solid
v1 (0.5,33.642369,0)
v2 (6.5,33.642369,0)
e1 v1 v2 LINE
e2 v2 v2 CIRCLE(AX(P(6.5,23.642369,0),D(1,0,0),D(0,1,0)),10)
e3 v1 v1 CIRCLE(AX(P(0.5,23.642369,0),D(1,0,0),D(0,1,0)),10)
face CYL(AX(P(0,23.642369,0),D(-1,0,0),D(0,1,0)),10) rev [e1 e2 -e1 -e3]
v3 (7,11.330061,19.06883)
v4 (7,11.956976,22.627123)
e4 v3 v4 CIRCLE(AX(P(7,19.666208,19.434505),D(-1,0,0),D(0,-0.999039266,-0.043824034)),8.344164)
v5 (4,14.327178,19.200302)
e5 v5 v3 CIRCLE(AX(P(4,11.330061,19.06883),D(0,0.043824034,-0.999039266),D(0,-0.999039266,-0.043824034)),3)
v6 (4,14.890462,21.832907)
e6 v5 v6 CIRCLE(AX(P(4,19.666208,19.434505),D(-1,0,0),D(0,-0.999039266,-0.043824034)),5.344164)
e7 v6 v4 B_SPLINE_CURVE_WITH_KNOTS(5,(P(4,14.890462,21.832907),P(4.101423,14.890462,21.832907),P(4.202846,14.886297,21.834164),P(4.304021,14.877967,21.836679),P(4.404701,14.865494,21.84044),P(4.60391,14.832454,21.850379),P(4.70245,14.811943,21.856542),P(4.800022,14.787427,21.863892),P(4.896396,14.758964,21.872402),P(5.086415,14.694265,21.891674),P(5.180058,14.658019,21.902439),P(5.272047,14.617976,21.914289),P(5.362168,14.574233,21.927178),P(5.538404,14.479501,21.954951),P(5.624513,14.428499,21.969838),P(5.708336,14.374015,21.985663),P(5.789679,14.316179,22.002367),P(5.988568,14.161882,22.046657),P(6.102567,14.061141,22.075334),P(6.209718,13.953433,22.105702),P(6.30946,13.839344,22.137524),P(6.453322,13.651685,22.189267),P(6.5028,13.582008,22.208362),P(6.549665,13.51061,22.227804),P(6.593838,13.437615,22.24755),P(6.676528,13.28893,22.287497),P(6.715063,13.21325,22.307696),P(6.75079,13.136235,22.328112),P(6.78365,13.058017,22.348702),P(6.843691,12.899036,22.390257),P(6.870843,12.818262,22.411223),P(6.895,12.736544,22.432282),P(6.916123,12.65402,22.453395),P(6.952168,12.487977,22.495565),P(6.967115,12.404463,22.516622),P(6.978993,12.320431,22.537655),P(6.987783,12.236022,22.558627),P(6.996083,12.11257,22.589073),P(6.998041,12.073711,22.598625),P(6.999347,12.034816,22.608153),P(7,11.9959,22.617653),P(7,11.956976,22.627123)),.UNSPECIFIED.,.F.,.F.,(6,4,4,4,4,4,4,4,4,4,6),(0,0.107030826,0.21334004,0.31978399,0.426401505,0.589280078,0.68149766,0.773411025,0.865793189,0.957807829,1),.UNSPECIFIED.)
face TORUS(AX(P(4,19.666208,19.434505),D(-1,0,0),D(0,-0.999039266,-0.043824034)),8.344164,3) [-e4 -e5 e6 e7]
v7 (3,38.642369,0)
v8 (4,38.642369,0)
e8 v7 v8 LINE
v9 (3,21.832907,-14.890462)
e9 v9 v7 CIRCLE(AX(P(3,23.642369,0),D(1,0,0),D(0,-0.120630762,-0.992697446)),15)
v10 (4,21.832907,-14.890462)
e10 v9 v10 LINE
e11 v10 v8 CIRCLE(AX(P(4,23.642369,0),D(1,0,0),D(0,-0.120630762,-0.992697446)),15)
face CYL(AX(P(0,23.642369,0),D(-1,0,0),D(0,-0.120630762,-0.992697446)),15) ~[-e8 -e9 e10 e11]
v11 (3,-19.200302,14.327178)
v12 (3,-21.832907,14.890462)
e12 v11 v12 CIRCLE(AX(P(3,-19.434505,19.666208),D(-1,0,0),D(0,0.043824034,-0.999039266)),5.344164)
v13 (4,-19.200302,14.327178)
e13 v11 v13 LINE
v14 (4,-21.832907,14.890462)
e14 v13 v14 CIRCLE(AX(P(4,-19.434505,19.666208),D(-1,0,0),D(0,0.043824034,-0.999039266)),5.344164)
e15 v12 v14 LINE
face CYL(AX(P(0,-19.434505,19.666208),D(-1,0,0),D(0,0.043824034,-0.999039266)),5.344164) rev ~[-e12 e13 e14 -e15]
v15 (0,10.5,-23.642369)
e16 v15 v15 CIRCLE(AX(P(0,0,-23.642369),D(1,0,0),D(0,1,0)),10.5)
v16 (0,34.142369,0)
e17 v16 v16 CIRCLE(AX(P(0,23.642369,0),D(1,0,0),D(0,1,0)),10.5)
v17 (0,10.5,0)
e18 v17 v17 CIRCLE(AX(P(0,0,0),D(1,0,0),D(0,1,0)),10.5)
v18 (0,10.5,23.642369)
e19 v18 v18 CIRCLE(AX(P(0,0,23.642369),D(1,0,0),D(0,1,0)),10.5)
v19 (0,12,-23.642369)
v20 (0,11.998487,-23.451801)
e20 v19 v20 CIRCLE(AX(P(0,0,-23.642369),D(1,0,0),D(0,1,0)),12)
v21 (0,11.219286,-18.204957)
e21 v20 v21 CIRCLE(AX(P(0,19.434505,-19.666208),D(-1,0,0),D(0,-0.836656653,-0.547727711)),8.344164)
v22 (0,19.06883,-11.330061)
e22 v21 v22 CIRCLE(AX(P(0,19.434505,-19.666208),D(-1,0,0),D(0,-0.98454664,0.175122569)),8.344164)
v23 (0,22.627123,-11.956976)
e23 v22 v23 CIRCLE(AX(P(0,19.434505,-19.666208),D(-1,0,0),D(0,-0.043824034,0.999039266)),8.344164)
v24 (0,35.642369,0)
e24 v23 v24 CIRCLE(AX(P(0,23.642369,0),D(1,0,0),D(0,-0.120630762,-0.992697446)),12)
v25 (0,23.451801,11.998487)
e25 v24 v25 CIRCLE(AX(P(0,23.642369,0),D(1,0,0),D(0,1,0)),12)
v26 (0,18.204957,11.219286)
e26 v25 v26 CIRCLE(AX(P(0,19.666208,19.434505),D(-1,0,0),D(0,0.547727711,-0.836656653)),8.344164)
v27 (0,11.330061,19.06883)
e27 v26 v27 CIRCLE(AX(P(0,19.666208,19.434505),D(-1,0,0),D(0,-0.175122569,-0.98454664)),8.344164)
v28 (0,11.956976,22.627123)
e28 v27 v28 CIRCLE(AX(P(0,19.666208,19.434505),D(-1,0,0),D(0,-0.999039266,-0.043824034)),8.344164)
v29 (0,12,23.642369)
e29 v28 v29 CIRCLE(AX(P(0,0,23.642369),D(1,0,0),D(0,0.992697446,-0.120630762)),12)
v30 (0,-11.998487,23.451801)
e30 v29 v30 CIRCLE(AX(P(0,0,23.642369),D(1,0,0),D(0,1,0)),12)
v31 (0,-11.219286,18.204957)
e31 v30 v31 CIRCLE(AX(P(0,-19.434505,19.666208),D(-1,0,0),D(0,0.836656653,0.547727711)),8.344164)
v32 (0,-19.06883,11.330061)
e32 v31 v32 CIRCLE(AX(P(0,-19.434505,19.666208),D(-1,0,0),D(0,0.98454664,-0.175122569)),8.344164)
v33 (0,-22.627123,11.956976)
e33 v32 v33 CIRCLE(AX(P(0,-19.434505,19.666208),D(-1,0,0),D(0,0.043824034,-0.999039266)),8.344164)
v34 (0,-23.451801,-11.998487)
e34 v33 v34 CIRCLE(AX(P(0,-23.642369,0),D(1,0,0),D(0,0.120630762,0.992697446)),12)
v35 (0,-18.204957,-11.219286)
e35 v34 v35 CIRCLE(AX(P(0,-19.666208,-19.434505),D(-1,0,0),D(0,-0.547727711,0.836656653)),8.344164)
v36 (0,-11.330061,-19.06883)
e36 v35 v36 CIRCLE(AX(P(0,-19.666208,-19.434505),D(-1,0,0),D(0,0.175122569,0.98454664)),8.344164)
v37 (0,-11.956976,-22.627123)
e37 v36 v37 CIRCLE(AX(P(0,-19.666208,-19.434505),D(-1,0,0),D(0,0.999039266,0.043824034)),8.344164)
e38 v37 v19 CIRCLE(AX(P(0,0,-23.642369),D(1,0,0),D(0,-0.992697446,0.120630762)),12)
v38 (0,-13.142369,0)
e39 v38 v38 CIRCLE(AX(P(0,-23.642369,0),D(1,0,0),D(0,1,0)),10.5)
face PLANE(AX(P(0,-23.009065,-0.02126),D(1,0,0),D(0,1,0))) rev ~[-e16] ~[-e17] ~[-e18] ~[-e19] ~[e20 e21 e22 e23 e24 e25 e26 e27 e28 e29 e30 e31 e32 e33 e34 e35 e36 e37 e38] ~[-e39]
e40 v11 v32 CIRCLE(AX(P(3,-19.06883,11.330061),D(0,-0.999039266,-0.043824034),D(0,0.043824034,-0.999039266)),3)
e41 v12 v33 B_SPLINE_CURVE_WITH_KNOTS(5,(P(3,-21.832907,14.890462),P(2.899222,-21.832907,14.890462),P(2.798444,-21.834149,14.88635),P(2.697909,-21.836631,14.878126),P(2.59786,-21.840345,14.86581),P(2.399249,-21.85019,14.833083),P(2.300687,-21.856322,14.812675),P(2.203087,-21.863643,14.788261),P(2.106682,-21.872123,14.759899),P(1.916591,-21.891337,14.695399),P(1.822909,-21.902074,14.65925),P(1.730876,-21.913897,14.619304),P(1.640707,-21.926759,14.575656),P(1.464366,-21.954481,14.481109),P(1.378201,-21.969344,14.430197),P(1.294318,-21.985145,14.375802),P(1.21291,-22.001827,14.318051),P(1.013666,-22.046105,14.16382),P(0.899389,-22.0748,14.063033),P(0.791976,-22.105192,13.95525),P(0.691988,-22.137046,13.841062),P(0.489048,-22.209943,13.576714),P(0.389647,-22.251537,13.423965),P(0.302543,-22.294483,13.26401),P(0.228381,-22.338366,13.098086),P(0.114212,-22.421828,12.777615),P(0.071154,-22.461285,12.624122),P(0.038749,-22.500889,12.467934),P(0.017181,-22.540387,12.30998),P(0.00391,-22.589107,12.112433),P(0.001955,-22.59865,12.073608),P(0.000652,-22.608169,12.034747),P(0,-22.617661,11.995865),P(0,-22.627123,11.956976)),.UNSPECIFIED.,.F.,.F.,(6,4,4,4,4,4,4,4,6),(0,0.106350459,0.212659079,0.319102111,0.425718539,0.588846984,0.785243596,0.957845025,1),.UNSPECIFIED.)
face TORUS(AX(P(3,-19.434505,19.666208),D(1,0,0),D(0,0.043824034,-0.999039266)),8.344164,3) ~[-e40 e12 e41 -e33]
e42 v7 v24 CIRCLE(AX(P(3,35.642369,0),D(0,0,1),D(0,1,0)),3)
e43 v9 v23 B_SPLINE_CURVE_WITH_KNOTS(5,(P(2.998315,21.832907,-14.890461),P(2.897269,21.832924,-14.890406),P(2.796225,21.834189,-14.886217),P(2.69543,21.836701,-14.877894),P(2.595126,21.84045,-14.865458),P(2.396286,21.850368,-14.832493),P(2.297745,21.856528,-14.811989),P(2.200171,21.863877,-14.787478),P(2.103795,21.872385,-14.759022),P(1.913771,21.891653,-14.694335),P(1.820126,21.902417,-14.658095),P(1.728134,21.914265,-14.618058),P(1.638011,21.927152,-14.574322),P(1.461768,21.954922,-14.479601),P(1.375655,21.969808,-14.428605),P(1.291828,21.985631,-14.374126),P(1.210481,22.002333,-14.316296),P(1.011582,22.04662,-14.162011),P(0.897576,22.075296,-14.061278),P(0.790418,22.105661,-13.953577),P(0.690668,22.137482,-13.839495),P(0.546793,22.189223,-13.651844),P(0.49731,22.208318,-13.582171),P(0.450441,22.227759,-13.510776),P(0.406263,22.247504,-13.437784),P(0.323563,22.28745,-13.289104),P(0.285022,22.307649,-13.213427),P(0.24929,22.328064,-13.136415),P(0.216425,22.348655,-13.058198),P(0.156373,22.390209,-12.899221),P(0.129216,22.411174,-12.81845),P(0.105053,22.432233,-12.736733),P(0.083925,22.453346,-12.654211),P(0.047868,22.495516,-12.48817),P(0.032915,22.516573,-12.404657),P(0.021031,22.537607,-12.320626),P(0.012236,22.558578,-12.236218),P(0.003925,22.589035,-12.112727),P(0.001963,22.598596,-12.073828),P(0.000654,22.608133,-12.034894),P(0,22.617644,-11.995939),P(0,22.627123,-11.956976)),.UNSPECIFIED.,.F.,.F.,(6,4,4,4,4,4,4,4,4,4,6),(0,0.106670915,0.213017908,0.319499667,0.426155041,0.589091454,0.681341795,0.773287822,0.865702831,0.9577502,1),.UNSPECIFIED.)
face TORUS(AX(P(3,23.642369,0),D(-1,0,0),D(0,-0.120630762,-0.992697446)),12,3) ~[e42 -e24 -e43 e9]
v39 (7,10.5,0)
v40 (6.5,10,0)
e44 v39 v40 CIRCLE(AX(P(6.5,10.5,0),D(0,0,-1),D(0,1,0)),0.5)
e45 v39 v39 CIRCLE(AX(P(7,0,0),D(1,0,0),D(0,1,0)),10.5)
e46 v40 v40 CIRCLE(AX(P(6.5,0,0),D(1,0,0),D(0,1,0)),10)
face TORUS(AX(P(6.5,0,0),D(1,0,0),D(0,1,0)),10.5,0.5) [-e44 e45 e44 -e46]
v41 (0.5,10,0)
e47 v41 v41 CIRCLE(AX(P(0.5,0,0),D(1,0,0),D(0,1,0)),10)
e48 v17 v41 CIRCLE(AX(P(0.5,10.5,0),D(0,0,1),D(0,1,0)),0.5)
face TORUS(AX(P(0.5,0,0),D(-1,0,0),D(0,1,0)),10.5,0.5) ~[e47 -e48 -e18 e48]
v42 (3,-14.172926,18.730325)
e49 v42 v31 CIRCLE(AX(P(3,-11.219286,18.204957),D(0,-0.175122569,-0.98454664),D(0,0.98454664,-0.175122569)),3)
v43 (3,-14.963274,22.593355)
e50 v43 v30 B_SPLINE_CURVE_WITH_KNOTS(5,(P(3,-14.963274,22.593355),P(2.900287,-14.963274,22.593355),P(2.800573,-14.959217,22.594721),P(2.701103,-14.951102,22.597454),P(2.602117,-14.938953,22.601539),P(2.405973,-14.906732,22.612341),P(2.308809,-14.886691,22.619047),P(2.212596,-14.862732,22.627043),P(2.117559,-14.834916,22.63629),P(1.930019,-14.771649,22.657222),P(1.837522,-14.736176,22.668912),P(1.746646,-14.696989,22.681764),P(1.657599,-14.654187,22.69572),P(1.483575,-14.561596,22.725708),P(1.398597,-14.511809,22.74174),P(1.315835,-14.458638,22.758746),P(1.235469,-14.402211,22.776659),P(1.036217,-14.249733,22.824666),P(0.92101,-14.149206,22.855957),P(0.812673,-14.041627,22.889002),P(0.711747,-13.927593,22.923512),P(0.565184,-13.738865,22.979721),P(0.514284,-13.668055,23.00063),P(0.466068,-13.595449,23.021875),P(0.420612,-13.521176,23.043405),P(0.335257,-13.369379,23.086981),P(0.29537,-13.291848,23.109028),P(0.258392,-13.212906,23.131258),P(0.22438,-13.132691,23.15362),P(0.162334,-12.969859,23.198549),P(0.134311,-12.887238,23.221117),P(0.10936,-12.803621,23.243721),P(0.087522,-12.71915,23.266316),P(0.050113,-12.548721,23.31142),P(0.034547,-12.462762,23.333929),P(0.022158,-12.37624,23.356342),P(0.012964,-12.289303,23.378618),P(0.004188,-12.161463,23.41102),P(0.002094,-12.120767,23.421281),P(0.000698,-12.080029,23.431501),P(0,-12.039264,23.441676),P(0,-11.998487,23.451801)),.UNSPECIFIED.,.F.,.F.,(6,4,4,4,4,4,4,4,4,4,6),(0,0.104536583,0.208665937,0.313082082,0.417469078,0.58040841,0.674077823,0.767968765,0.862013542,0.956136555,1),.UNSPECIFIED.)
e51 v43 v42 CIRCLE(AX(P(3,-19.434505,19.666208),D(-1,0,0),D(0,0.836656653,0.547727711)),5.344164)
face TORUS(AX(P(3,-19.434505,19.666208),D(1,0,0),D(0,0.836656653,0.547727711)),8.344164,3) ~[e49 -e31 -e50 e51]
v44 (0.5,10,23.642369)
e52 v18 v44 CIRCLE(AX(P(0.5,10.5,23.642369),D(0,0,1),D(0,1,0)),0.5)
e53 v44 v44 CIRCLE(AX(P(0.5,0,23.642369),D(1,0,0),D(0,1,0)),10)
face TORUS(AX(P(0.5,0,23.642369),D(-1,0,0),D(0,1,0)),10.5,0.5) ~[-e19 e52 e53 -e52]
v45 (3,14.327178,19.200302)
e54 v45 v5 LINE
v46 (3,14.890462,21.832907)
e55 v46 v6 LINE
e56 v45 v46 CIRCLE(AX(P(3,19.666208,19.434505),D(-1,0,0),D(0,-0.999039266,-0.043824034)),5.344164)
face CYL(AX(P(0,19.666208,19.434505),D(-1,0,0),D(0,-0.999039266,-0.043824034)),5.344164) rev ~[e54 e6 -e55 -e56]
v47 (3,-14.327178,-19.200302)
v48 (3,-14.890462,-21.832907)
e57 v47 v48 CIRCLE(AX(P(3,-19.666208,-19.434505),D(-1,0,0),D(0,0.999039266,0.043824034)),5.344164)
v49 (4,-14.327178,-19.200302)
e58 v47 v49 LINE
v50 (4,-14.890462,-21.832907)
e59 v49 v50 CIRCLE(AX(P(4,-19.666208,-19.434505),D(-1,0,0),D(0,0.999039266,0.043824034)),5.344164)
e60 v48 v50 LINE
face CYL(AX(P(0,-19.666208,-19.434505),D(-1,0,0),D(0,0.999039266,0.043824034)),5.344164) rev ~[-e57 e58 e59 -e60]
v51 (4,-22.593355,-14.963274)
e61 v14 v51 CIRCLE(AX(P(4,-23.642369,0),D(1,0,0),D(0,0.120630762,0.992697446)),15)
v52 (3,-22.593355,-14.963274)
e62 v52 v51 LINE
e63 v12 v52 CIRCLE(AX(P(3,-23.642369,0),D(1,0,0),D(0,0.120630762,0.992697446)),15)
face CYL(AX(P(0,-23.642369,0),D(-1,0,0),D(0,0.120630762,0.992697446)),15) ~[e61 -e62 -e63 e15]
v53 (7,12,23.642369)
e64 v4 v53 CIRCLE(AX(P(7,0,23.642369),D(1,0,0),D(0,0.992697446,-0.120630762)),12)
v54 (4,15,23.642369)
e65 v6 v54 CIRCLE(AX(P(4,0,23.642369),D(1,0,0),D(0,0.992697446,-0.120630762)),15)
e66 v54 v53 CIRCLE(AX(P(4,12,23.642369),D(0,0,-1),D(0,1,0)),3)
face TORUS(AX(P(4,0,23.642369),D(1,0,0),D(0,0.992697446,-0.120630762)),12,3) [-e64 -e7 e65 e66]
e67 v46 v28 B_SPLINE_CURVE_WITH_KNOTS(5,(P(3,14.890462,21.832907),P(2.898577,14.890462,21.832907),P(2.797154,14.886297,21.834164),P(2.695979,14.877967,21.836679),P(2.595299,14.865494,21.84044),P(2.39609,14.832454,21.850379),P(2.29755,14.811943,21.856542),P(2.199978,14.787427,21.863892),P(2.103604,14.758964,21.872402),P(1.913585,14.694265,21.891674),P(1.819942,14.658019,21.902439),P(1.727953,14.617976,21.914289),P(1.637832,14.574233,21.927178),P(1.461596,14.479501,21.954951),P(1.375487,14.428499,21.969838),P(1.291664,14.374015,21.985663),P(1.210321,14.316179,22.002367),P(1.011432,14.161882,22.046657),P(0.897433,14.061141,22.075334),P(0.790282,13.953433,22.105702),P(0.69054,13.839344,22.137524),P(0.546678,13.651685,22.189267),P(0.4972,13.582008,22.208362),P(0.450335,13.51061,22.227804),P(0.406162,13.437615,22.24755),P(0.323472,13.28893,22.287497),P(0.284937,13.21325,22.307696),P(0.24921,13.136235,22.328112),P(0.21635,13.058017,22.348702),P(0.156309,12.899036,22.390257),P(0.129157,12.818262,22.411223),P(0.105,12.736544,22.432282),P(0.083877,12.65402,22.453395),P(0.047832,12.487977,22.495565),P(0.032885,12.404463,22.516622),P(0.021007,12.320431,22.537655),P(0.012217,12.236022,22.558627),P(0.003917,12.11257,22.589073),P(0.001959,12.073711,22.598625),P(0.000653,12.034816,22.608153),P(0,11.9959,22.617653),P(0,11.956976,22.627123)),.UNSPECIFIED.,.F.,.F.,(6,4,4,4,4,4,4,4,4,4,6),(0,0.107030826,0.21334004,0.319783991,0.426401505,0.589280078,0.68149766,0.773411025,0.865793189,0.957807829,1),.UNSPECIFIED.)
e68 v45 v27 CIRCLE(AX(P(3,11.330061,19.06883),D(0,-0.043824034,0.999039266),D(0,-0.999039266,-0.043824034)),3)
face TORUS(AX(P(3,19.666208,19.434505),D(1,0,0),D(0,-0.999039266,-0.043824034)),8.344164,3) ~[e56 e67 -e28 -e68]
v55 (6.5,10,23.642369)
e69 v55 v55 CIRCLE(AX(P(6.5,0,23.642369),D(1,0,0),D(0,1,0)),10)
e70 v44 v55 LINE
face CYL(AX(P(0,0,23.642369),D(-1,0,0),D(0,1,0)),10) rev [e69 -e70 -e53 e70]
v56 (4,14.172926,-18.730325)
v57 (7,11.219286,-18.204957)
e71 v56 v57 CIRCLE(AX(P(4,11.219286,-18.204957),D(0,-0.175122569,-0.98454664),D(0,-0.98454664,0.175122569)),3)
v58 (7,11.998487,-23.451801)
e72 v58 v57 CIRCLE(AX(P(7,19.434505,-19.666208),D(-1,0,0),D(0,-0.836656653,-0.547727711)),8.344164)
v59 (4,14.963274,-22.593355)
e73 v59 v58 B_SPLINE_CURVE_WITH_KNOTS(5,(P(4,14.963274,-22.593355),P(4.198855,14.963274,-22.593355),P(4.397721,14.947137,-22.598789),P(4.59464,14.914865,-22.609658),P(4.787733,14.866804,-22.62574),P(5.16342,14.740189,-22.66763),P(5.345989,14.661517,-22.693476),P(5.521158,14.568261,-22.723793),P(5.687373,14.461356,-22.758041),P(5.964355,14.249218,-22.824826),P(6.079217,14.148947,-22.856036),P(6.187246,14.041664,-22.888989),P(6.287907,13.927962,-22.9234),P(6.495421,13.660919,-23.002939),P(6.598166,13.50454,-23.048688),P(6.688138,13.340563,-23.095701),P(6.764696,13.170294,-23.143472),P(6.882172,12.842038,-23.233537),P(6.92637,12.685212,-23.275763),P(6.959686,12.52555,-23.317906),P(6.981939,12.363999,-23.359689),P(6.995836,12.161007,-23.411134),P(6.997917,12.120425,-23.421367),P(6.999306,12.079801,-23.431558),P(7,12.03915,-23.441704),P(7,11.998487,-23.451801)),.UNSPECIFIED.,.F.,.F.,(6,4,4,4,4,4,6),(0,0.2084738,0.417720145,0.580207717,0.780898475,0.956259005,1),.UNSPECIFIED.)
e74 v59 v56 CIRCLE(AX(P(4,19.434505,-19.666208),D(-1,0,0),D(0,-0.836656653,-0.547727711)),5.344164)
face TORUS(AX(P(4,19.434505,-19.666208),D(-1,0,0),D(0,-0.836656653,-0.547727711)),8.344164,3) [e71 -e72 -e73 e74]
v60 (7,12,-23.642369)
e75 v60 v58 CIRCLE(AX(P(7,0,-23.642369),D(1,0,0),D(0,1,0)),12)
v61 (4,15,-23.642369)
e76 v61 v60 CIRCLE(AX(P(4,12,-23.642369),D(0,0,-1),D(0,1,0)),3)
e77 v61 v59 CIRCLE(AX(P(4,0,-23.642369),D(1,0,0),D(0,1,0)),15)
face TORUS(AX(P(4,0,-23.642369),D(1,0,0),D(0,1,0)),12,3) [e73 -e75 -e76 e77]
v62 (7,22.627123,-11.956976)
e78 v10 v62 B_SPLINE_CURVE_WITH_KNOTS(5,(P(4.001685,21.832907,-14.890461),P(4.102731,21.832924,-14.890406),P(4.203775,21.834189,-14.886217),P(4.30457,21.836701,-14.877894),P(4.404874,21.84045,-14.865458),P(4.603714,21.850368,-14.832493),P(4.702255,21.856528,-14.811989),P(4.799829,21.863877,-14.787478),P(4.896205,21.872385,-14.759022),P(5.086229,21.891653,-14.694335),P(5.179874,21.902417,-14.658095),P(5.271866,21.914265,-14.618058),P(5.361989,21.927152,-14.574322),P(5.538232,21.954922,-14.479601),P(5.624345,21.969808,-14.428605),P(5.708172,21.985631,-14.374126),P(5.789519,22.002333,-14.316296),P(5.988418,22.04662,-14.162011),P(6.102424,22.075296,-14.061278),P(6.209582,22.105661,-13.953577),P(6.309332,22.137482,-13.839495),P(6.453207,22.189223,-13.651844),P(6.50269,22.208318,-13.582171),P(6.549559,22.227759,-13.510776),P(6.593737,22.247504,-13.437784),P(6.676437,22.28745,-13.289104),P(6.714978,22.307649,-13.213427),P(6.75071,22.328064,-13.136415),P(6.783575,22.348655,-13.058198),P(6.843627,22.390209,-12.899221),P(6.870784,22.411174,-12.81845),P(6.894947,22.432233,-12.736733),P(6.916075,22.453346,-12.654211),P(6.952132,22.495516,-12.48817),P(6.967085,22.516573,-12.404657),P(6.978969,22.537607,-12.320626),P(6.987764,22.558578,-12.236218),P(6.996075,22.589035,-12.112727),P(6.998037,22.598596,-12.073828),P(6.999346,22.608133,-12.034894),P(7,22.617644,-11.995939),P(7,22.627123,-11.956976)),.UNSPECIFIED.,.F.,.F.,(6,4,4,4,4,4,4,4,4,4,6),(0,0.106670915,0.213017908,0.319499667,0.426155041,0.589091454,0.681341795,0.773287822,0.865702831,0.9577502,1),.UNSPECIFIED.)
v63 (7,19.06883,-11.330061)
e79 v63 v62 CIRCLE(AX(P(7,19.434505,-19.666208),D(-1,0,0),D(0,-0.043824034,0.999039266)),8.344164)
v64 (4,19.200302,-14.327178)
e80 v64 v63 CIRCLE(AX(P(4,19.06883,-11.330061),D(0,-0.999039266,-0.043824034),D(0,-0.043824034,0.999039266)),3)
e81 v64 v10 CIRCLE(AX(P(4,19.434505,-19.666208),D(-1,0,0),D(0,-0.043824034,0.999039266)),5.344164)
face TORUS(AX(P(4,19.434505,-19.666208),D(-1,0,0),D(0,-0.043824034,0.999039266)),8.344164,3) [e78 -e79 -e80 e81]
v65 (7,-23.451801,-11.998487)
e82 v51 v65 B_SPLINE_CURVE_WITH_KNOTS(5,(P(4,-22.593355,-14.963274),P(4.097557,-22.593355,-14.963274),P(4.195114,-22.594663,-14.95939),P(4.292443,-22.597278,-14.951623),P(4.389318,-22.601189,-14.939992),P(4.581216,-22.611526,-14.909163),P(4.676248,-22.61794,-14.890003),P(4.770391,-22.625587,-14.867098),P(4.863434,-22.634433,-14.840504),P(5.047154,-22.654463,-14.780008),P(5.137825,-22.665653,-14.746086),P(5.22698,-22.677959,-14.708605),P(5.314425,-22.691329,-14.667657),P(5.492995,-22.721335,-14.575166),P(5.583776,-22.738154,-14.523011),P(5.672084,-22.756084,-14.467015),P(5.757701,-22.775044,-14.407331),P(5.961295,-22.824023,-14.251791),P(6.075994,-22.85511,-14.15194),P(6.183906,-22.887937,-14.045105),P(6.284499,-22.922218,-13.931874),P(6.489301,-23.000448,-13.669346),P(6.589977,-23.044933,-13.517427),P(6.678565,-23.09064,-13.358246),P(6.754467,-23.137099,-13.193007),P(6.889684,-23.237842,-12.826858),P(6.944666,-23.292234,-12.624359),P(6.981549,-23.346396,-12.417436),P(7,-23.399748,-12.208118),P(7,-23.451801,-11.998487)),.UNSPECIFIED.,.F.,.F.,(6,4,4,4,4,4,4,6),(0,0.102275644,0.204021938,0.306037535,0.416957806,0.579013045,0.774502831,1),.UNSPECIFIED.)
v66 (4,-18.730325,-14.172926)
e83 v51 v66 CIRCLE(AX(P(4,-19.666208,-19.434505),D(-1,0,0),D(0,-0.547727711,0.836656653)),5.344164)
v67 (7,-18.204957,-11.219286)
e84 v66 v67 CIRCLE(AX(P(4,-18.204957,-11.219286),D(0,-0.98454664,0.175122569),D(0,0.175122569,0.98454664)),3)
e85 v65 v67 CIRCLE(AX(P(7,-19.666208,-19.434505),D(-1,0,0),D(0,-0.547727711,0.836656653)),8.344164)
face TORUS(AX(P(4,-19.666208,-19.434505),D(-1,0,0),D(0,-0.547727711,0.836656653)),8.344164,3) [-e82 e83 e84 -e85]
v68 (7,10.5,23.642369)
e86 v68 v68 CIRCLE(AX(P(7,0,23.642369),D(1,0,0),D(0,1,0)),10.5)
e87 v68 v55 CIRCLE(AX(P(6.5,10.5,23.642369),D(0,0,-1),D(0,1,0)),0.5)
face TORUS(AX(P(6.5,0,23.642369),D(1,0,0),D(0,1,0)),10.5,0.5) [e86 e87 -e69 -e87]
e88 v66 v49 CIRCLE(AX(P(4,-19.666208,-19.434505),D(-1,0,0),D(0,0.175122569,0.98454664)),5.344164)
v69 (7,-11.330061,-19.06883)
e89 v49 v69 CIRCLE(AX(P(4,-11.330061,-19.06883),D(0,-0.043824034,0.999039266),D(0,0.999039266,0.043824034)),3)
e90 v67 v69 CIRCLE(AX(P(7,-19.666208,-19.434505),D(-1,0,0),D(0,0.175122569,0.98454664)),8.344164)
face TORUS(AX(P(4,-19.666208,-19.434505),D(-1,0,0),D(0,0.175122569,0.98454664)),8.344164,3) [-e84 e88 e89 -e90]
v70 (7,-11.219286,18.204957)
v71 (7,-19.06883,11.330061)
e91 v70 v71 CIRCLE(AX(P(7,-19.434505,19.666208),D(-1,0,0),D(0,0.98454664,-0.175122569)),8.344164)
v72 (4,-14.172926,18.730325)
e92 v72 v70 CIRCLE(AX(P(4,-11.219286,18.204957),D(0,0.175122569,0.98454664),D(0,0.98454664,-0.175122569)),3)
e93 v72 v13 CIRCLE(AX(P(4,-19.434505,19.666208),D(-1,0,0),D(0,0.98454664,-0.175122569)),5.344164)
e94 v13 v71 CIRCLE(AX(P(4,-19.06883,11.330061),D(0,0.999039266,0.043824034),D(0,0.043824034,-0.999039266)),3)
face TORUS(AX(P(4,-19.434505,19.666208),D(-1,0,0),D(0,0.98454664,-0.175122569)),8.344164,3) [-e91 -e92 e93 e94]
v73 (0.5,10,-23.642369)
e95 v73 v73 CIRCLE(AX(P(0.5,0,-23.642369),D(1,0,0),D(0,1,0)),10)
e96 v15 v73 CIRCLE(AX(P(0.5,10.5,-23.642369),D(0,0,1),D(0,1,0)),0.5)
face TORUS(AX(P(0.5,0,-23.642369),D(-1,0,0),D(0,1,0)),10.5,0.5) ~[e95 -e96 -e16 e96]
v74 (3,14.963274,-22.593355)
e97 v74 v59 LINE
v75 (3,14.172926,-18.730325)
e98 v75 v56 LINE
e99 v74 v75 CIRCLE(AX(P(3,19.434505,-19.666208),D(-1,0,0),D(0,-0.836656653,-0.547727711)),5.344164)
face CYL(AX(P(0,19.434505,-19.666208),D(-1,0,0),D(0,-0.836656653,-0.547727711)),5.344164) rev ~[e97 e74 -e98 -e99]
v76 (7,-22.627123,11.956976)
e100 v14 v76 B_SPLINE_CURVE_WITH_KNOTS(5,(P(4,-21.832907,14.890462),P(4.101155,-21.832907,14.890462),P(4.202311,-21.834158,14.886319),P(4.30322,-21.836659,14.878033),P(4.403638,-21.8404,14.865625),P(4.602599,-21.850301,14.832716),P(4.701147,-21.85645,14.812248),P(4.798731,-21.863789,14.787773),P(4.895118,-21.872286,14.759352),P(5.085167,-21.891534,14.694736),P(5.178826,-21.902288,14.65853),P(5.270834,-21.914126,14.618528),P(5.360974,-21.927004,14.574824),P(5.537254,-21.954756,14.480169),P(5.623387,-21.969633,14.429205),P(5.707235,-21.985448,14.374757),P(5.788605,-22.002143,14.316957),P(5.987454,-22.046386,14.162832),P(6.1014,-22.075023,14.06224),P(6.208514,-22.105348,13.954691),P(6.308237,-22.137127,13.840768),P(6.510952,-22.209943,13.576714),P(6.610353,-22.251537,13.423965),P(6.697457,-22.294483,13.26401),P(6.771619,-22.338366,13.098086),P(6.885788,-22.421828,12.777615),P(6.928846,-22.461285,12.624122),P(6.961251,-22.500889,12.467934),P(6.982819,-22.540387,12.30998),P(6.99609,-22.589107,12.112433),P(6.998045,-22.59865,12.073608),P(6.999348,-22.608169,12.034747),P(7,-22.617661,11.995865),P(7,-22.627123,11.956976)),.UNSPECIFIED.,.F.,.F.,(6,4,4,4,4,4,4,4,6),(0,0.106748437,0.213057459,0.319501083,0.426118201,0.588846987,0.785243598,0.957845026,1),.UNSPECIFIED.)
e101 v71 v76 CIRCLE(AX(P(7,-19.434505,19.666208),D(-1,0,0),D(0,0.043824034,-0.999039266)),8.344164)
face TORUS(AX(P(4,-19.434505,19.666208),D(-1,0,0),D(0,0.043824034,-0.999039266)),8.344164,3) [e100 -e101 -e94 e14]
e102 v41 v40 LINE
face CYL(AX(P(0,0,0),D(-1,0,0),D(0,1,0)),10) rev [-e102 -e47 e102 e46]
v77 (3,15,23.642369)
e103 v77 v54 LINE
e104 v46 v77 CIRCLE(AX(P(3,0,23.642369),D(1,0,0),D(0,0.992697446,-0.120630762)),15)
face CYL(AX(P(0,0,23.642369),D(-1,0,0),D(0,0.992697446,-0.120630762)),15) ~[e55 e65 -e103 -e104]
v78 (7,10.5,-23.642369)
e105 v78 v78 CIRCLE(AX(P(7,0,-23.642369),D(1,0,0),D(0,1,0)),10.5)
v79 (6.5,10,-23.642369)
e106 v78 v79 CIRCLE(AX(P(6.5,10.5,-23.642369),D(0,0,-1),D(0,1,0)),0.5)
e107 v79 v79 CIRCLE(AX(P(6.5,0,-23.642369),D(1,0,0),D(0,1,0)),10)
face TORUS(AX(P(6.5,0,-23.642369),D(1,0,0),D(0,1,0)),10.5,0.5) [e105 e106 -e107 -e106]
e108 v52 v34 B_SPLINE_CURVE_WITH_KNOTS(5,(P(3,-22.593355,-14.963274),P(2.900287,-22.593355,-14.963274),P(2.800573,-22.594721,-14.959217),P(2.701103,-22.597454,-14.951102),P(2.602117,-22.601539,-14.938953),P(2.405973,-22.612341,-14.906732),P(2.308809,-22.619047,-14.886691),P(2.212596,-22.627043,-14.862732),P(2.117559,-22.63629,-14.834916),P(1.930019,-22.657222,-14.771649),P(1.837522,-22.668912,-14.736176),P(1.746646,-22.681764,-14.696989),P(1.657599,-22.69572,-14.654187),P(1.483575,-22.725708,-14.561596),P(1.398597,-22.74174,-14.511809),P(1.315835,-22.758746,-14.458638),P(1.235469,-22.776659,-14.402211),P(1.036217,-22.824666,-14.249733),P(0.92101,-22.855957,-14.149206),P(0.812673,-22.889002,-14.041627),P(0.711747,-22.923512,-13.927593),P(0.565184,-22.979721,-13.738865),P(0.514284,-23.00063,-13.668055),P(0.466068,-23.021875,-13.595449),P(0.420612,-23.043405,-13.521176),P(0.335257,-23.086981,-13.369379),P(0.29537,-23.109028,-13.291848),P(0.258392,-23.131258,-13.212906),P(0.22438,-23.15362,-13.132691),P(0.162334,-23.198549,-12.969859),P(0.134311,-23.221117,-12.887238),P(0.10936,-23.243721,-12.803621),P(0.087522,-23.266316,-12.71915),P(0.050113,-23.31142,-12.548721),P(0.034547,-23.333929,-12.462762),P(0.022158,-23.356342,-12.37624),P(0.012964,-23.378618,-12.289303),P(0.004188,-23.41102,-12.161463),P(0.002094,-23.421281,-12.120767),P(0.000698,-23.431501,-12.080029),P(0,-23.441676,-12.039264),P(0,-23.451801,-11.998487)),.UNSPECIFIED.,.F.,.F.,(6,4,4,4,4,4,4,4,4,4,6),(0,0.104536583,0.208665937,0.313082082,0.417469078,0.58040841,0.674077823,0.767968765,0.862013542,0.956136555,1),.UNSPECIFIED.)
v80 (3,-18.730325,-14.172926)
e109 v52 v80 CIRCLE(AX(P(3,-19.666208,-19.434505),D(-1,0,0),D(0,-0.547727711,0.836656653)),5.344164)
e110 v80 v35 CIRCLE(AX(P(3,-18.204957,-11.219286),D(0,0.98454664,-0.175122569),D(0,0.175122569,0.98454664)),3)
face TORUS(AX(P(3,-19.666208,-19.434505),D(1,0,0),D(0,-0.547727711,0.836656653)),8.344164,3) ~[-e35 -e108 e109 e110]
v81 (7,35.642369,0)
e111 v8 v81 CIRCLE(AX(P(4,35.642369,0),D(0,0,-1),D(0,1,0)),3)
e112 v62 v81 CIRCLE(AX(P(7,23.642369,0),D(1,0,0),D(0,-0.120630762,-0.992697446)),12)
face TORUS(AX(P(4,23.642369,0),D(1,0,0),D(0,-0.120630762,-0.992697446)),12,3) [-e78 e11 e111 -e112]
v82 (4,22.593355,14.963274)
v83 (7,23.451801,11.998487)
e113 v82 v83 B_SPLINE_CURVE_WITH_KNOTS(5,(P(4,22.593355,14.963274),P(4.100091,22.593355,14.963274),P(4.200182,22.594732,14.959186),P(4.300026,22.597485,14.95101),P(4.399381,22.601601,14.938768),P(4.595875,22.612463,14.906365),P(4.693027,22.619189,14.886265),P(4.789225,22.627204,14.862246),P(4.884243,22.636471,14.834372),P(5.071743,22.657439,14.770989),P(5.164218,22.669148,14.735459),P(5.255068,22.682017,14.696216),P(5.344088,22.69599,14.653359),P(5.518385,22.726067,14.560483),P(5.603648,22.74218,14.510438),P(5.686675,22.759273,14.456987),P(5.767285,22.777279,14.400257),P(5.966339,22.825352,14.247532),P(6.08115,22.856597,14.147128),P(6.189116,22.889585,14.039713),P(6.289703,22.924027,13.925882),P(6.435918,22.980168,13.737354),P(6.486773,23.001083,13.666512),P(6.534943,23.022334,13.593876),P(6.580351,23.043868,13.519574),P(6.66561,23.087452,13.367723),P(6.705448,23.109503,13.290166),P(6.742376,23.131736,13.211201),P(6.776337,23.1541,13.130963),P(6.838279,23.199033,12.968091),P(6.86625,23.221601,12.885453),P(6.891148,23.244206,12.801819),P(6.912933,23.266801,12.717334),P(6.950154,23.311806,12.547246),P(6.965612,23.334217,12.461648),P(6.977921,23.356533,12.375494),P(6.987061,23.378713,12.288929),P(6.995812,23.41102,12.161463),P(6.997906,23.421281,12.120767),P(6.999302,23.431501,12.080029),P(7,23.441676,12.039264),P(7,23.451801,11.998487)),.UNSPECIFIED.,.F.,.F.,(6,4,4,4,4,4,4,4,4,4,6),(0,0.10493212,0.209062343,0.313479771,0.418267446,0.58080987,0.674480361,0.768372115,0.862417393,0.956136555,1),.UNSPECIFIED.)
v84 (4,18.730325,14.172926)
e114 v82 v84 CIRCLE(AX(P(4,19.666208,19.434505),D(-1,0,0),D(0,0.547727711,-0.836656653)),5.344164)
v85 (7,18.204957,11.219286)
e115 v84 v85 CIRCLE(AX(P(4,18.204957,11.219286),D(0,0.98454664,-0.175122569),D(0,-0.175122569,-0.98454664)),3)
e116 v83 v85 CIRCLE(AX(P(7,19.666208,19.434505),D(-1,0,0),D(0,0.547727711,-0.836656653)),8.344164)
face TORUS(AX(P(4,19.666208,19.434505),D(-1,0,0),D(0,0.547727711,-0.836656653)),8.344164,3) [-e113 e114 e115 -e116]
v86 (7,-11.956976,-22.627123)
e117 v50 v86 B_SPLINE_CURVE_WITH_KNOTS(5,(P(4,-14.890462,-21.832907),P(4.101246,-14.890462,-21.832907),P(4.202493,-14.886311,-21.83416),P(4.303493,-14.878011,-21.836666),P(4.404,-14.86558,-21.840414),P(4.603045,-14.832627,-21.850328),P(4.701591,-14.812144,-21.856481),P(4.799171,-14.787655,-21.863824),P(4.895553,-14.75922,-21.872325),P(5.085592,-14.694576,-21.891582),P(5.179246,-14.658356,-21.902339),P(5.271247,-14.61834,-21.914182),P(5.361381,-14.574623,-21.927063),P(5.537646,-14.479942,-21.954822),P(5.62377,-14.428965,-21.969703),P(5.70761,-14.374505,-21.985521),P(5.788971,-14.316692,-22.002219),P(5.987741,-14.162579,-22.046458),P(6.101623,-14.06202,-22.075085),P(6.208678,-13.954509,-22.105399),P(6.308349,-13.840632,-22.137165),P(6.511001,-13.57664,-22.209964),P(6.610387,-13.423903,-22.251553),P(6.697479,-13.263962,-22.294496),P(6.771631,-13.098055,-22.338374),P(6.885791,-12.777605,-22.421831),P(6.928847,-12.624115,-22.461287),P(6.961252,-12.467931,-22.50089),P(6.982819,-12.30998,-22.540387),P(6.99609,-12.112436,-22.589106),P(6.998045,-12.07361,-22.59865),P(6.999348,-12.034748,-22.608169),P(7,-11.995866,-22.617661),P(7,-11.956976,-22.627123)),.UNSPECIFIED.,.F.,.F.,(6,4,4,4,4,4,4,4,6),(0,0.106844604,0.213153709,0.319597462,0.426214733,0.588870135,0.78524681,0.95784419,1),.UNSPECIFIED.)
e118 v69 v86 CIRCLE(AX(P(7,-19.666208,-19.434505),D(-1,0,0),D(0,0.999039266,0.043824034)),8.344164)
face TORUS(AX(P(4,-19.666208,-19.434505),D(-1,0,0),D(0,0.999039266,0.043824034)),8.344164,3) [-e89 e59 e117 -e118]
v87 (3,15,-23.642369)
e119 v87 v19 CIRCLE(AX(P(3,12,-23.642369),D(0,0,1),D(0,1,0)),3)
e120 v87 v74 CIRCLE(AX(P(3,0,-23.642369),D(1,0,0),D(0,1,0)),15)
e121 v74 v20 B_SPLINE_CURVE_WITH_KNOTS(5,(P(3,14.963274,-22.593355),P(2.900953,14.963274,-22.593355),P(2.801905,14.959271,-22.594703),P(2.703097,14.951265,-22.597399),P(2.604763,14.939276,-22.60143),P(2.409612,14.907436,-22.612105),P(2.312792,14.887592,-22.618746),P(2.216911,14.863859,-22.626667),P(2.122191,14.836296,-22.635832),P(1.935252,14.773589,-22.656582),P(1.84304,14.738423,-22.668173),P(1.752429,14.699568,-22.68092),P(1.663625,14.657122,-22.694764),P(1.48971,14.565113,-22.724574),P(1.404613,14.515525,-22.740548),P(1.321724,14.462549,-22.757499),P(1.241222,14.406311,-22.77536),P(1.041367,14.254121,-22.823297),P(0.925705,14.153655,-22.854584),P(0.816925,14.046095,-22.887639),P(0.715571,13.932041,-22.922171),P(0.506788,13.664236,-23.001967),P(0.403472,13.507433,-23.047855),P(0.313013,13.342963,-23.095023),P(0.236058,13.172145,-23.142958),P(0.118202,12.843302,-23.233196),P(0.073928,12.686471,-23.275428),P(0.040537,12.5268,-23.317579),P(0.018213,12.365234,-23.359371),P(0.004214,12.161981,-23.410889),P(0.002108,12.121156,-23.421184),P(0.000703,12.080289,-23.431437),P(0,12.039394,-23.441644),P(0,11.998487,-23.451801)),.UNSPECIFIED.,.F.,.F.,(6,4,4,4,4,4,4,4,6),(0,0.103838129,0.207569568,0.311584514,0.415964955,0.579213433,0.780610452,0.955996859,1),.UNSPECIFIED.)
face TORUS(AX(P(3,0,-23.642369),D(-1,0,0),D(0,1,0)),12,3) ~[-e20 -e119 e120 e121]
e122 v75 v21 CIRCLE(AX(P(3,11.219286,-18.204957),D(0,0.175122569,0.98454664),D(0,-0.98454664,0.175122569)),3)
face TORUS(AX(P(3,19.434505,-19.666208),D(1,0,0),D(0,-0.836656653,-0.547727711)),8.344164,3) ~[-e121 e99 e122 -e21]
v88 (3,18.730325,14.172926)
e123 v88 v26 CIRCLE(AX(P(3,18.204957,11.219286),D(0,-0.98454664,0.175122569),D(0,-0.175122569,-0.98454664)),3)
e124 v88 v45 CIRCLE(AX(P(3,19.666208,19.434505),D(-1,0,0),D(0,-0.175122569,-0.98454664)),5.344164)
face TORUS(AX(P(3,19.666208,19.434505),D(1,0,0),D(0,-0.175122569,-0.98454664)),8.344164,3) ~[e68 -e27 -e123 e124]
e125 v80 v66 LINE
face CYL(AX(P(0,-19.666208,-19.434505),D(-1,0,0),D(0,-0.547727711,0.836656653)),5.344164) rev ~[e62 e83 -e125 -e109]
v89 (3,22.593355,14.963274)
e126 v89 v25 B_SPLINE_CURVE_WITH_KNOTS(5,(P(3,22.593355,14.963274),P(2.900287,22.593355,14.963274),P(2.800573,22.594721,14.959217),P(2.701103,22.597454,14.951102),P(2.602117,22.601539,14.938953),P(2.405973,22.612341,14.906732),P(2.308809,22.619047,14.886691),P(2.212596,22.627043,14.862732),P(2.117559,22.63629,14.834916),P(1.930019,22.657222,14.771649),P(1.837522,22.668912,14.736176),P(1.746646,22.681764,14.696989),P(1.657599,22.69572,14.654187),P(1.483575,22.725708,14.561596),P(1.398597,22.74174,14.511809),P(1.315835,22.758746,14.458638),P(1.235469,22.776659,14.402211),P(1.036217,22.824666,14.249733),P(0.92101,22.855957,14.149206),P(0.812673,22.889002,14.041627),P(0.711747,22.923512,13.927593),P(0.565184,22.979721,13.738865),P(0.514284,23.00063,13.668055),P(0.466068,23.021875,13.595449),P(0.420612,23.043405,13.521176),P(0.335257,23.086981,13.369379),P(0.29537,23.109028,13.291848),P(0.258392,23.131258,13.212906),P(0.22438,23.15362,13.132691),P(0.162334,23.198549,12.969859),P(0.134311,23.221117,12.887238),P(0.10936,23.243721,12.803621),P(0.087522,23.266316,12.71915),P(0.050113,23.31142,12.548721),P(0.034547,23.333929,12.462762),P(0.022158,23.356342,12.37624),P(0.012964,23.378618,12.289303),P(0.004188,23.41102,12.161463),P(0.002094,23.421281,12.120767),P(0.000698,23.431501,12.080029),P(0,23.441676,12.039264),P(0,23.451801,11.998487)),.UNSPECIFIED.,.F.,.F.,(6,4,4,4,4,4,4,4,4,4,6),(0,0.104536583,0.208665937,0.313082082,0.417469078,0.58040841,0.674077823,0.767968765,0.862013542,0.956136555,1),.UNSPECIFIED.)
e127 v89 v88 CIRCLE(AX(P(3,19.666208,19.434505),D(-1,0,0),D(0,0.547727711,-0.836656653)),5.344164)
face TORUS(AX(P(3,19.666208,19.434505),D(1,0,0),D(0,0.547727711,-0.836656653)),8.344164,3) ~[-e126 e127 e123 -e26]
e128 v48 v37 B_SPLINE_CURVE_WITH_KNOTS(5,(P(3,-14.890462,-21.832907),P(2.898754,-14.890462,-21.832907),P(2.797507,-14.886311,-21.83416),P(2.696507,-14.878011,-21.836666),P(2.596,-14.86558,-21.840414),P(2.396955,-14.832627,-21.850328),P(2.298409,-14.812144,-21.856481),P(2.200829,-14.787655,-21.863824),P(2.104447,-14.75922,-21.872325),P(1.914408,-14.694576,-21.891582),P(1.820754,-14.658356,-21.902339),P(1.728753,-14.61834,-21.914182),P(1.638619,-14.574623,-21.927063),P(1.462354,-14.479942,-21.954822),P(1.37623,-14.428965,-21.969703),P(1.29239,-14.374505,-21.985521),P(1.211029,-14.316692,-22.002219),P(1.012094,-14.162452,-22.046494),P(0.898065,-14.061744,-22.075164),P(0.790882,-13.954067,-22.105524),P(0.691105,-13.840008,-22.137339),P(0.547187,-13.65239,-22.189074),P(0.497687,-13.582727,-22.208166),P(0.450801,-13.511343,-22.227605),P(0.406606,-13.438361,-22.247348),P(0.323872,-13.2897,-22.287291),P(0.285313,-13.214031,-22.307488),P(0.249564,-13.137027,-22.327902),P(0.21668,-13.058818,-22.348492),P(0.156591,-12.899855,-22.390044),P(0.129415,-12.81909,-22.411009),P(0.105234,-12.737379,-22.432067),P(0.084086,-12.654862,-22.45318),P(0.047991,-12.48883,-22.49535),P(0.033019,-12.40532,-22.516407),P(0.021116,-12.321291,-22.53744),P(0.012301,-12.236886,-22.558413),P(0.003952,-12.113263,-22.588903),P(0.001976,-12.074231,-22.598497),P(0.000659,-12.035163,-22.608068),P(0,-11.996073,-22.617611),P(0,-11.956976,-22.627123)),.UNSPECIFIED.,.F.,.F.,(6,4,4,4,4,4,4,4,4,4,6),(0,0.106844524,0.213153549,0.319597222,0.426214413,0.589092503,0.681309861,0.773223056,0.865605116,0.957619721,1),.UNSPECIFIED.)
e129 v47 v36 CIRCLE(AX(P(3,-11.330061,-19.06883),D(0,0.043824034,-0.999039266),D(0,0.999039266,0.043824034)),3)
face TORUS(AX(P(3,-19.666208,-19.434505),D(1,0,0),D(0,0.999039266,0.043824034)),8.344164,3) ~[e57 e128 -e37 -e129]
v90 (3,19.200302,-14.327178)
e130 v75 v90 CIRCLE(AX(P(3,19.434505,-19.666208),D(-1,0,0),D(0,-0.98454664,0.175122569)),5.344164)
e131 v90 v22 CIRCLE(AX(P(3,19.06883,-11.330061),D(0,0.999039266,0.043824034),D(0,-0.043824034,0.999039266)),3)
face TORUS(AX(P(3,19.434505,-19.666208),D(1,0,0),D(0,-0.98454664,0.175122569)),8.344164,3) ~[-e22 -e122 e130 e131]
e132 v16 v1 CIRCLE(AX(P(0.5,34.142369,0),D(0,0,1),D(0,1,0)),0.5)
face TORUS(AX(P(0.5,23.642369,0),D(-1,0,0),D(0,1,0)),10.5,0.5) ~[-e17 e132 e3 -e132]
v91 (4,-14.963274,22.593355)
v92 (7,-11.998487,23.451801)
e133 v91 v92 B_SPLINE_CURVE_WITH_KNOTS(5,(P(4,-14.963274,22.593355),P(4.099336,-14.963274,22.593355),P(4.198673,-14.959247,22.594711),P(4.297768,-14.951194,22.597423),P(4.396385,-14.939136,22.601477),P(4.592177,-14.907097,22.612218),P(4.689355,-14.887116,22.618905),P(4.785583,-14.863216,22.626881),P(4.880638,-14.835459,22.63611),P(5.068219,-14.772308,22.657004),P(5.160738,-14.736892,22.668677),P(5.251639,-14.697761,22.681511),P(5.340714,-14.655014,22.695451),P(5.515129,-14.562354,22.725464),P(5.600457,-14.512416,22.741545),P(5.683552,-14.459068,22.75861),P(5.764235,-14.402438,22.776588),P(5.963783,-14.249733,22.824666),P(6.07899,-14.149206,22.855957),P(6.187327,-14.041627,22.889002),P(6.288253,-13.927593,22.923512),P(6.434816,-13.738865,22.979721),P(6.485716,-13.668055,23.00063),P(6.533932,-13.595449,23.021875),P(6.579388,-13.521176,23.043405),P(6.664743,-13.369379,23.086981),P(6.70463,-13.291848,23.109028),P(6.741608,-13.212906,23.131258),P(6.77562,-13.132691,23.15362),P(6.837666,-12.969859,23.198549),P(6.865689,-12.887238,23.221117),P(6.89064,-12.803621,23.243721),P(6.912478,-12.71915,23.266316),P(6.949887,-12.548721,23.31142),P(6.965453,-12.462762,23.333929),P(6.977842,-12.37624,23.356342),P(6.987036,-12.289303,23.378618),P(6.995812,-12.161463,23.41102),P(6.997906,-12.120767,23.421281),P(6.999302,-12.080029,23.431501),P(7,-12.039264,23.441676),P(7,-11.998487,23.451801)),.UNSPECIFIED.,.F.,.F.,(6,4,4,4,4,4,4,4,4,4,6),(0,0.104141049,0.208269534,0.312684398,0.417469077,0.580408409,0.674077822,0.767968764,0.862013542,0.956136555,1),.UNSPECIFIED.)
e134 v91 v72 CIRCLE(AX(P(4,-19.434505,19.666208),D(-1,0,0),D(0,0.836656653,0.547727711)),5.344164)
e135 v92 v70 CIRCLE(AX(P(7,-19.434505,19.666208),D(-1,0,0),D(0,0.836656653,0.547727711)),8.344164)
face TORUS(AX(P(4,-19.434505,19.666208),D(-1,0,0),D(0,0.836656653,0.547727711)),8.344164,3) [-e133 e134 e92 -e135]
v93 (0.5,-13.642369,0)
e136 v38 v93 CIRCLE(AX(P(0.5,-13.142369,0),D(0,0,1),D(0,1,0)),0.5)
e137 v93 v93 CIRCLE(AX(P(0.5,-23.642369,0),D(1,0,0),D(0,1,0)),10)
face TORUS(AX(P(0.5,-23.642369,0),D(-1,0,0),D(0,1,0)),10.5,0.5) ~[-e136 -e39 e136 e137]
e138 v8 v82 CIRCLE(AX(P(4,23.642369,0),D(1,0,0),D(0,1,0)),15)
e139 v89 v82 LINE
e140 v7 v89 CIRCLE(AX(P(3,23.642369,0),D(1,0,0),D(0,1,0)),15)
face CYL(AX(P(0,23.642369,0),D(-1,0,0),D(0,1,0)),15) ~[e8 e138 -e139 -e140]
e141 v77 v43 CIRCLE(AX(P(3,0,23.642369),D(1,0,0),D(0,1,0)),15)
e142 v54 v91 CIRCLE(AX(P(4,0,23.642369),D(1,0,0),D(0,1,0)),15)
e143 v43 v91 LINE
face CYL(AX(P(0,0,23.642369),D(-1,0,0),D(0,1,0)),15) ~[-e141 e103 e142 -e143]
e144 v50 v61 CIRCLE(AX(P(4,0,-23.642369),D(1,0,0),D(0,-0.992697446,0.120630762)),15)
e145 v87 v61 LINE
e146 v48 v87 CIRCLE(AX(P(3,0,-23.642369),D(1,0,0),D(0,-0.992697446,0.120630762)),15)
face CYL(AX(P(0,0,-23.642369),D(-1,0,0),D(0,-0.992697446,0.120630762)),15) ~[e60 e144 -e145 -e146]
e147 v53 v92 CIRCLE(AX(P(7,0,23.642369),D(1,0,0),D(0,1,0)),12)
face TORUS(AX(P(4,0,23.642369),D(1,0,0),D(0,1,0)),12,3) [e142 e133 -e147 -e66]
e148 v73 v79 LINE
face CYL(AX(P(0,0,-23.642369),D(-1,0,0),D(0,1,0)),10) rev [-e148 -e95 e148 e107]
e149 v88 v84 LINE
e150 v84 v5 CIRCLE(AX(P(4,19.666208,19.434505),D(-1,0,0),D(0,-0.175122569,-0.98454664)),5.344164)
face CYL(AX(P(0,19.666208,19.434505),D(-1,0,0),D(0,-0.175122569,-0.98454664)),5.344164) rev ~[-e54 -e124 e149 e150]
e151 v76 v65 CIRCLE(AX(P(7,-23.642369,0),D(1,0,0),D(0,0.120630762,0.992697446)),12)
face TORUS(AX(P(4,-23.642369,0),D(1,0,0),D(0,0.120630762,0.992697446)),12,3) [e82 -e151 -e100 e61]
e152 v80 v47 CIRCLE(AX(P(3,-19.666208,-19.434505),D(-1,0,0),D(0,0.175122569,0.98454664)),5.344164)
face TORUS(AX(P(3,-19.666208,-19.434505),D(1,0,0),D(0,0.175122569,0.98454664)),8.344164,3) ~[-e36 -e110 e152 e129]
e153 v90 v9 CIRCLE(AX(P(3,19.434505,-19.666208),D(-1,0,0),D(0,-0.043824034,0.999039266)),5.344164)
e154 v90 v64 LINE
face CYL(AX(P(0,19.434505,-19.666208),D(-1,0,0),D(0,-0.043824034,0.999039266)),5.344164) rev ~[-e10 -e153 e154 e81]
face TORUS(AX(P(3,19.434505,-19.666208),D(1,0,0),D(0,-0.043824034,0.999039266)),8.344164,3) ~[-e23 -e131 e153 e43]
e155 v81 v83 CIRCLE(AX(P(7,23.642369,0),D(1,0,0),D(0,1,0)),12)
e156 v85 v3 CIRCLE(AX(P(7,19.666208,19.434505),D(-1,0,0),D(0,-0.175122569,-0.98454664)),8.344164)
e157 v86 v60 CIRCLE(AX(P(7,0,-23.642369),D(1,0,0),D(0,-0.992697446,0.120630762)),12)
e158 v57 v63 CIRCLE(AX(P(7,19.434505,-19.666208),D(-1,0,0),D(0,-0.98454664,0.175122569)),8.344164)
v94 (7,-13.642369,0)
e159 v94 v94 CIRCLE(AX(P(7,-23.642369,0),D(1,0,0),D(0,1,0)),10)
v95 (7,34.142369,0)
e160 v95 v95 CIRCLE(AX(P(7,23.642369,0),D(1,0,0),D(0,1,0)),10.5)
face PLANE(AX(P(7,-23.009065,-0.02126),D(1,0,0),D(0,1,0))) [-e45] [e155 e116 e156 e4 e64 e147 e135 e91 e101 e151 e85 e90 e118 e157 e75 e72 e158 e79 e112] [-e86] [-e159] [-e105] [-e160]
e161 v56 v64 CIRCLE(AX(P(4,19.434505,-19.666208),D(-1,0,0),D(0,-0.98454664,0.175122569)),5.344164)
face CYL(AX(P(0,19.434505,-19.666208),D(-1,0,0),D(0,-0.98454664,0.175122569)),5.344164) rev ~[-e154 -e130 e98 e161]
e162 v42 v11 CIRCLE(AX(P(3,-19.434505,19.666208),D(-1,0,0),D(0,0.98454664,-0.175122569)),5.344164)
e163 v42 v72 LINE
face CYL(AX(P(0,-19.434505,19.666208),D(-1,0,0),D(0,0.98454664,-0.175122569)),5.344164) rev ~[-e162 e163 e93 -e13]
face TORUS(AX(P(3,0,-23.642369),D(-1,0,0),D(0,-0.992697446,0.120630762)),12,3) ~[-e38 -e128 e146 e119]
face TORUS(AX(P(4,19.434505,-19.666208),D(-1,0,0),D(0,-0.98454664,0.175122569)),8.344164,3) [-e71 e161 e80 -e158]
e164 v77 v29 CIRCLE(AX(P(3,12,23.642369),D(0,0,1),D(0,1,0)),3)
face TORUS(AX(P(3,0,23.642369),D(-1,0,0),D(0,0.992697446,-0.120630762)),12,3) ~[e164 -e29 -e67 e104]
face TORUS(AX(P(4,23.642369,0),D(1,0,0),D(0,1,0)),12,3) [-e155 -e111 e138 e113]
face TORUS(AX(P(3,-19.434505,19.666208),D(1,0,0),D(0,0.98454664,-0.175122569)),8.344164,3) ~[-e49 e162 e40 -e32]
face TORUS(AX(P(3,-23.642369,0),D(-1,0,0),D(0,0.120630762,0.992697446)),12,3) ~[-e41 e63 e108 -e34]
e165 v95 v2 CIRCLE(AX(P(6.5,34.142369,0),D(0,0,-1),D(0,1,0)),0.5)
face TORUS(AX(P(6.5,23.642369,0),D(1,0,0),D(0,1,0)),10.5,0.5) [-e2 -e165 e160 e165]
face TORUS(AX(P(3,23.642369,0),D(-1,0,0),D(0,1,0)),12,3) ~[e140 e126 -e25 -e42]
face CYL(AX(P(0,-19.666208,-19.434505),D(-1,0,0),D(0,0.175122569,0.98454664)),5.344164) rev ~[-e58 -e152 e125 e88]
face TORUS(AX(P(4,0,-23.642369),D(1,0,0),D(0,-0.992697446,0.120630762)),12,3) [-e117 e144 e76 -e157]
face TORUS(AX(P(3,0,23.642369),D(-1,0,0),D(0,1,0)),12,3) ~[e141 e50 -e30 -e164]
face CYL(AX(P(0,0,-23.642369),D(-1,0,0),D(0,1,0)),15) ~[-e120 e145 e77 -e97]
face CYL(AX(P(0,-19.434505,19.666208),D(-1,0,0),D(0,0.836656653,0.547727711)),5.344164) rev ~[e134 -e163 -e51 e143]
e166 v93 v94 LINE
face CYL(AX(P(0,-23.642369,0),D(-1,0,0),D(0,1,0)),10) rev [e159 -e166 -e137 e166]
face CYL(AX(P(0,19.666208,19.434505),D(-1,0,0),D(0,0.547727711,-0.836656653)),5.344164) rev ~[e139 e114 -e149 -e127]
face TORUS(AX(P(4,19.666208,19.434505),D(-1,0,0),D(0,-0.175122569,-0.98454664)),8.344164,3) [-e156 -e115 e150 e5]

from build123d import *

# Parameters (mm, degrees)
F0_R     = 10
F1_DEPTH = 7
F2_R     = 3
F3_R     = 10
F4_DEPTH = 7
F5_R     = 0.5


with BuildPart() as f1:
    # F0 (on Right) → F1 (new body)
    with BuildSketch(Plane.YZ):
        with BuildLine():
            ThreePointArc((-8.6423686218, 0), (-11.5669596547, 8.8985672036), (-19.2003017254, 14.3271784273))
            ThreePointArc((-19.2003017254, 14.3271784273), (-20.5526558036, 14.4403276349), (-21.8329071962, 14.8904616903))
            ThreePointArc((-21.8329071962, 14.8904616903), (-38.6375046448, 0.381962892), (-22.5933550658, -14.9632740588))
            ThreePointArc((-22.5933550658, -14.9632740588), (-20.7373967468, -14.1987958366), (-18.7303245084, -14.1729256905))
            ThreePointArc((-18.7303245084, -14.1729256905), (-11.4218804625, -8.698256673), (-8.6423686218, 0))
        make_face()
        with Locations((-23.6423686218, 0)):
            Circle(F0_R, mode=Mode.SUBTRACT)
        with BuildLine():
            ThreePointArc((14.8904616903, 21.8329071962), (14.9725903797, 22.7359816608), (15, 23.6423686218))
            ThreePointArc((15, 23.6423686218), (-0.5248281231, 38.6331843248), (-14.9632740588, 22.5933550658))
            ThreePointArc((-14.9632740588, 22.5933550658), (-14.1987958366, 20.7373967468), (-14.1729256905, 18.7303245084))
            ThreePointArc((-14.1729256905, 18.7303245084), (0.2473219012, 8.6444076978), (14.3271784273, 19.2003017254))
            ThreePointArc((14.3271784273, 19.2003017254), (14.4403276349, 20.5526558036), (14.8904616903, 21.8329071962))
        make_face()
        with Locations((0, 23.6423686218)):
            Circle(F0_R, mode=Mode.SUBTRACT)
        with BuildLine():
            ThreePointArc((14.3271784273, 19.2003017254), (0.2473219012, 8.6444076978), (-14.1729256905, 18.7303245084))
            ThreePointArc((-14.1729256905, 18.7303245084), (-15.9134496053, 15.6459766043), (-19.2003017254, 14.3271784273))
            ThreePointArc((-19.2003017254, 14.3271784273), (-11.5669596547, 8.8985672036), (-8.6423686218, 0))
            ThreePointArc((-8.6423686218, 0), (-11.4218804625, -8.698256673), (-18.7303245084, -14.1729256905))
            ThreePointArc((-18.7303245084, -14.1729256905), (-15.6459766043, -15.9134496053), (-14.3271784273, -19.2003017254))
            ThreePointArc((-14.3271784273, -19.2003017254), (-0.2473219012, -8.6444076978), (14.1729256905, -18.7303245084))
            ThreePointArc((14.1729256905, -18.7303245084), (15.9134496053, -15.6459766043), (19.2003017254, -14.3271784273))
            ThreePointArc((19.2003017254, -14.3271784273), (8.6444076978, -0.2473219012), (18.7303245084, 14.1729256905))
            ThreePointArc((18.7303245084, 14.1729256905), (15.6459766043, 15.9134496053), (14.3271784273, 19.2003017254))
        make_face()
        with BuildLine():
            ThreePointArc((22.5933550658, 14.9632740588), (20.7373967468, 14.1987958366), (18.7303245084, 14.1729256905))
            ThreePointArc((18.7303245084, 14.1729256905), (8.6444076978, -0.2473219012), (19.2003017254, -14.3271784273))
            ThreePointArc((19.2003017254, -14.3271784273), (20.5526558036, -14.4403276349), (21.8329071962, -14.8904616903))
            ThreePointArc((21.8329071962, -14.8904616903), (33.5886764447, -11.2281325559), (38.6423686218, 0))
            ThreePointArc((38.6423686218, 0), (33.8713665361, 10.9712169639), (22.5933550658, 14.9632740588))
        make_face()
        with Locations((23.6423686218, 0)):
            Circle(F0_R, mode=Mode.SUBTRACT)
        with BuildLine():
            ThreePointArc((14.9632740588, -22.5933550658), (14.1987958366, -20.7373967468), (14.1729256905, -18.7303245084))
            ThreePointArc((14.1729256905, -18.7303245084), (-0.2473219012, -8.6444076978), (-14.3271784273, -19.2003017254))
            ThreePointArc((-14.3271784273, -19.2003017254), (-14.4403276349, -20.5526558036), (-14.8904616903, -21.8329071962))
            ThreePointArc((-14.8904616903, -21.8329071962), (-0.906386961, -38.6149590014), (15, -23.6423686218))
            ThreePointArc((15, -23.6423686218), (14.990815703, -23.1175404986), (14.9632740588, -22.5933550658))
        make_face()
        with Locations((0, -23.6423686218)):
            Circle(F0_R, mode=Mode.SUBTRACT)
    extrude(amount=F1_DEPTH)

    # F2
    f2_edges = [f1.edges().sort_by_distance(p)[0] for p in [
        (7, 0.381963, 38.637505),
        (7, -15.446047, 16.109202),
        (7, -38.637505, 0.381963),
        (7, -16.109202, -15.446047),
        (7, -0.381963, -38.637505),
        (7, 16.109202, 15.446047),
        (7, 38.637505, -0.381963),
        (7, 15.446047, -16.109202),
        (0, -38.637505, 0.381963),
        (0, -16.109202, -15.446047),
        (0, -0.381963, -38.637505),
        (0, 15.446047, -16.109202),
        (0, 38.637505, -0.381963),
        (0, 16.109202, 15.446047),
        (0, 0.381963, 38.637505),
        (0, -15.446047, 16.109202),
    ]]
    fillet(f2_edges, radius=F2_R)

    # F3 (on Right) → F4 (cut)
    with BuildSketch(Plane.YZ):
        Circle(F3_R)
    extrude(amount=F4_DEPTH, mode=Mode.SUBTRACT)

    # F5
    f5_edges = [f1.edges().sort_by_distance(p)[0] for p in [
        (0, 13.642369, 0),
        (0, -10, 23.642369),
        (0, -10, 0),
        (0, -33.642369, 0),
        (0, -10, -23.642369),
        (7, 13.642369, 0),
        (7, -10, 23.642369),
        (7, -10, 0),
        (7, -10, -23.642369),
    ]]
    fillet(f5_edges, radius=F5_R)


solid = f1.part
